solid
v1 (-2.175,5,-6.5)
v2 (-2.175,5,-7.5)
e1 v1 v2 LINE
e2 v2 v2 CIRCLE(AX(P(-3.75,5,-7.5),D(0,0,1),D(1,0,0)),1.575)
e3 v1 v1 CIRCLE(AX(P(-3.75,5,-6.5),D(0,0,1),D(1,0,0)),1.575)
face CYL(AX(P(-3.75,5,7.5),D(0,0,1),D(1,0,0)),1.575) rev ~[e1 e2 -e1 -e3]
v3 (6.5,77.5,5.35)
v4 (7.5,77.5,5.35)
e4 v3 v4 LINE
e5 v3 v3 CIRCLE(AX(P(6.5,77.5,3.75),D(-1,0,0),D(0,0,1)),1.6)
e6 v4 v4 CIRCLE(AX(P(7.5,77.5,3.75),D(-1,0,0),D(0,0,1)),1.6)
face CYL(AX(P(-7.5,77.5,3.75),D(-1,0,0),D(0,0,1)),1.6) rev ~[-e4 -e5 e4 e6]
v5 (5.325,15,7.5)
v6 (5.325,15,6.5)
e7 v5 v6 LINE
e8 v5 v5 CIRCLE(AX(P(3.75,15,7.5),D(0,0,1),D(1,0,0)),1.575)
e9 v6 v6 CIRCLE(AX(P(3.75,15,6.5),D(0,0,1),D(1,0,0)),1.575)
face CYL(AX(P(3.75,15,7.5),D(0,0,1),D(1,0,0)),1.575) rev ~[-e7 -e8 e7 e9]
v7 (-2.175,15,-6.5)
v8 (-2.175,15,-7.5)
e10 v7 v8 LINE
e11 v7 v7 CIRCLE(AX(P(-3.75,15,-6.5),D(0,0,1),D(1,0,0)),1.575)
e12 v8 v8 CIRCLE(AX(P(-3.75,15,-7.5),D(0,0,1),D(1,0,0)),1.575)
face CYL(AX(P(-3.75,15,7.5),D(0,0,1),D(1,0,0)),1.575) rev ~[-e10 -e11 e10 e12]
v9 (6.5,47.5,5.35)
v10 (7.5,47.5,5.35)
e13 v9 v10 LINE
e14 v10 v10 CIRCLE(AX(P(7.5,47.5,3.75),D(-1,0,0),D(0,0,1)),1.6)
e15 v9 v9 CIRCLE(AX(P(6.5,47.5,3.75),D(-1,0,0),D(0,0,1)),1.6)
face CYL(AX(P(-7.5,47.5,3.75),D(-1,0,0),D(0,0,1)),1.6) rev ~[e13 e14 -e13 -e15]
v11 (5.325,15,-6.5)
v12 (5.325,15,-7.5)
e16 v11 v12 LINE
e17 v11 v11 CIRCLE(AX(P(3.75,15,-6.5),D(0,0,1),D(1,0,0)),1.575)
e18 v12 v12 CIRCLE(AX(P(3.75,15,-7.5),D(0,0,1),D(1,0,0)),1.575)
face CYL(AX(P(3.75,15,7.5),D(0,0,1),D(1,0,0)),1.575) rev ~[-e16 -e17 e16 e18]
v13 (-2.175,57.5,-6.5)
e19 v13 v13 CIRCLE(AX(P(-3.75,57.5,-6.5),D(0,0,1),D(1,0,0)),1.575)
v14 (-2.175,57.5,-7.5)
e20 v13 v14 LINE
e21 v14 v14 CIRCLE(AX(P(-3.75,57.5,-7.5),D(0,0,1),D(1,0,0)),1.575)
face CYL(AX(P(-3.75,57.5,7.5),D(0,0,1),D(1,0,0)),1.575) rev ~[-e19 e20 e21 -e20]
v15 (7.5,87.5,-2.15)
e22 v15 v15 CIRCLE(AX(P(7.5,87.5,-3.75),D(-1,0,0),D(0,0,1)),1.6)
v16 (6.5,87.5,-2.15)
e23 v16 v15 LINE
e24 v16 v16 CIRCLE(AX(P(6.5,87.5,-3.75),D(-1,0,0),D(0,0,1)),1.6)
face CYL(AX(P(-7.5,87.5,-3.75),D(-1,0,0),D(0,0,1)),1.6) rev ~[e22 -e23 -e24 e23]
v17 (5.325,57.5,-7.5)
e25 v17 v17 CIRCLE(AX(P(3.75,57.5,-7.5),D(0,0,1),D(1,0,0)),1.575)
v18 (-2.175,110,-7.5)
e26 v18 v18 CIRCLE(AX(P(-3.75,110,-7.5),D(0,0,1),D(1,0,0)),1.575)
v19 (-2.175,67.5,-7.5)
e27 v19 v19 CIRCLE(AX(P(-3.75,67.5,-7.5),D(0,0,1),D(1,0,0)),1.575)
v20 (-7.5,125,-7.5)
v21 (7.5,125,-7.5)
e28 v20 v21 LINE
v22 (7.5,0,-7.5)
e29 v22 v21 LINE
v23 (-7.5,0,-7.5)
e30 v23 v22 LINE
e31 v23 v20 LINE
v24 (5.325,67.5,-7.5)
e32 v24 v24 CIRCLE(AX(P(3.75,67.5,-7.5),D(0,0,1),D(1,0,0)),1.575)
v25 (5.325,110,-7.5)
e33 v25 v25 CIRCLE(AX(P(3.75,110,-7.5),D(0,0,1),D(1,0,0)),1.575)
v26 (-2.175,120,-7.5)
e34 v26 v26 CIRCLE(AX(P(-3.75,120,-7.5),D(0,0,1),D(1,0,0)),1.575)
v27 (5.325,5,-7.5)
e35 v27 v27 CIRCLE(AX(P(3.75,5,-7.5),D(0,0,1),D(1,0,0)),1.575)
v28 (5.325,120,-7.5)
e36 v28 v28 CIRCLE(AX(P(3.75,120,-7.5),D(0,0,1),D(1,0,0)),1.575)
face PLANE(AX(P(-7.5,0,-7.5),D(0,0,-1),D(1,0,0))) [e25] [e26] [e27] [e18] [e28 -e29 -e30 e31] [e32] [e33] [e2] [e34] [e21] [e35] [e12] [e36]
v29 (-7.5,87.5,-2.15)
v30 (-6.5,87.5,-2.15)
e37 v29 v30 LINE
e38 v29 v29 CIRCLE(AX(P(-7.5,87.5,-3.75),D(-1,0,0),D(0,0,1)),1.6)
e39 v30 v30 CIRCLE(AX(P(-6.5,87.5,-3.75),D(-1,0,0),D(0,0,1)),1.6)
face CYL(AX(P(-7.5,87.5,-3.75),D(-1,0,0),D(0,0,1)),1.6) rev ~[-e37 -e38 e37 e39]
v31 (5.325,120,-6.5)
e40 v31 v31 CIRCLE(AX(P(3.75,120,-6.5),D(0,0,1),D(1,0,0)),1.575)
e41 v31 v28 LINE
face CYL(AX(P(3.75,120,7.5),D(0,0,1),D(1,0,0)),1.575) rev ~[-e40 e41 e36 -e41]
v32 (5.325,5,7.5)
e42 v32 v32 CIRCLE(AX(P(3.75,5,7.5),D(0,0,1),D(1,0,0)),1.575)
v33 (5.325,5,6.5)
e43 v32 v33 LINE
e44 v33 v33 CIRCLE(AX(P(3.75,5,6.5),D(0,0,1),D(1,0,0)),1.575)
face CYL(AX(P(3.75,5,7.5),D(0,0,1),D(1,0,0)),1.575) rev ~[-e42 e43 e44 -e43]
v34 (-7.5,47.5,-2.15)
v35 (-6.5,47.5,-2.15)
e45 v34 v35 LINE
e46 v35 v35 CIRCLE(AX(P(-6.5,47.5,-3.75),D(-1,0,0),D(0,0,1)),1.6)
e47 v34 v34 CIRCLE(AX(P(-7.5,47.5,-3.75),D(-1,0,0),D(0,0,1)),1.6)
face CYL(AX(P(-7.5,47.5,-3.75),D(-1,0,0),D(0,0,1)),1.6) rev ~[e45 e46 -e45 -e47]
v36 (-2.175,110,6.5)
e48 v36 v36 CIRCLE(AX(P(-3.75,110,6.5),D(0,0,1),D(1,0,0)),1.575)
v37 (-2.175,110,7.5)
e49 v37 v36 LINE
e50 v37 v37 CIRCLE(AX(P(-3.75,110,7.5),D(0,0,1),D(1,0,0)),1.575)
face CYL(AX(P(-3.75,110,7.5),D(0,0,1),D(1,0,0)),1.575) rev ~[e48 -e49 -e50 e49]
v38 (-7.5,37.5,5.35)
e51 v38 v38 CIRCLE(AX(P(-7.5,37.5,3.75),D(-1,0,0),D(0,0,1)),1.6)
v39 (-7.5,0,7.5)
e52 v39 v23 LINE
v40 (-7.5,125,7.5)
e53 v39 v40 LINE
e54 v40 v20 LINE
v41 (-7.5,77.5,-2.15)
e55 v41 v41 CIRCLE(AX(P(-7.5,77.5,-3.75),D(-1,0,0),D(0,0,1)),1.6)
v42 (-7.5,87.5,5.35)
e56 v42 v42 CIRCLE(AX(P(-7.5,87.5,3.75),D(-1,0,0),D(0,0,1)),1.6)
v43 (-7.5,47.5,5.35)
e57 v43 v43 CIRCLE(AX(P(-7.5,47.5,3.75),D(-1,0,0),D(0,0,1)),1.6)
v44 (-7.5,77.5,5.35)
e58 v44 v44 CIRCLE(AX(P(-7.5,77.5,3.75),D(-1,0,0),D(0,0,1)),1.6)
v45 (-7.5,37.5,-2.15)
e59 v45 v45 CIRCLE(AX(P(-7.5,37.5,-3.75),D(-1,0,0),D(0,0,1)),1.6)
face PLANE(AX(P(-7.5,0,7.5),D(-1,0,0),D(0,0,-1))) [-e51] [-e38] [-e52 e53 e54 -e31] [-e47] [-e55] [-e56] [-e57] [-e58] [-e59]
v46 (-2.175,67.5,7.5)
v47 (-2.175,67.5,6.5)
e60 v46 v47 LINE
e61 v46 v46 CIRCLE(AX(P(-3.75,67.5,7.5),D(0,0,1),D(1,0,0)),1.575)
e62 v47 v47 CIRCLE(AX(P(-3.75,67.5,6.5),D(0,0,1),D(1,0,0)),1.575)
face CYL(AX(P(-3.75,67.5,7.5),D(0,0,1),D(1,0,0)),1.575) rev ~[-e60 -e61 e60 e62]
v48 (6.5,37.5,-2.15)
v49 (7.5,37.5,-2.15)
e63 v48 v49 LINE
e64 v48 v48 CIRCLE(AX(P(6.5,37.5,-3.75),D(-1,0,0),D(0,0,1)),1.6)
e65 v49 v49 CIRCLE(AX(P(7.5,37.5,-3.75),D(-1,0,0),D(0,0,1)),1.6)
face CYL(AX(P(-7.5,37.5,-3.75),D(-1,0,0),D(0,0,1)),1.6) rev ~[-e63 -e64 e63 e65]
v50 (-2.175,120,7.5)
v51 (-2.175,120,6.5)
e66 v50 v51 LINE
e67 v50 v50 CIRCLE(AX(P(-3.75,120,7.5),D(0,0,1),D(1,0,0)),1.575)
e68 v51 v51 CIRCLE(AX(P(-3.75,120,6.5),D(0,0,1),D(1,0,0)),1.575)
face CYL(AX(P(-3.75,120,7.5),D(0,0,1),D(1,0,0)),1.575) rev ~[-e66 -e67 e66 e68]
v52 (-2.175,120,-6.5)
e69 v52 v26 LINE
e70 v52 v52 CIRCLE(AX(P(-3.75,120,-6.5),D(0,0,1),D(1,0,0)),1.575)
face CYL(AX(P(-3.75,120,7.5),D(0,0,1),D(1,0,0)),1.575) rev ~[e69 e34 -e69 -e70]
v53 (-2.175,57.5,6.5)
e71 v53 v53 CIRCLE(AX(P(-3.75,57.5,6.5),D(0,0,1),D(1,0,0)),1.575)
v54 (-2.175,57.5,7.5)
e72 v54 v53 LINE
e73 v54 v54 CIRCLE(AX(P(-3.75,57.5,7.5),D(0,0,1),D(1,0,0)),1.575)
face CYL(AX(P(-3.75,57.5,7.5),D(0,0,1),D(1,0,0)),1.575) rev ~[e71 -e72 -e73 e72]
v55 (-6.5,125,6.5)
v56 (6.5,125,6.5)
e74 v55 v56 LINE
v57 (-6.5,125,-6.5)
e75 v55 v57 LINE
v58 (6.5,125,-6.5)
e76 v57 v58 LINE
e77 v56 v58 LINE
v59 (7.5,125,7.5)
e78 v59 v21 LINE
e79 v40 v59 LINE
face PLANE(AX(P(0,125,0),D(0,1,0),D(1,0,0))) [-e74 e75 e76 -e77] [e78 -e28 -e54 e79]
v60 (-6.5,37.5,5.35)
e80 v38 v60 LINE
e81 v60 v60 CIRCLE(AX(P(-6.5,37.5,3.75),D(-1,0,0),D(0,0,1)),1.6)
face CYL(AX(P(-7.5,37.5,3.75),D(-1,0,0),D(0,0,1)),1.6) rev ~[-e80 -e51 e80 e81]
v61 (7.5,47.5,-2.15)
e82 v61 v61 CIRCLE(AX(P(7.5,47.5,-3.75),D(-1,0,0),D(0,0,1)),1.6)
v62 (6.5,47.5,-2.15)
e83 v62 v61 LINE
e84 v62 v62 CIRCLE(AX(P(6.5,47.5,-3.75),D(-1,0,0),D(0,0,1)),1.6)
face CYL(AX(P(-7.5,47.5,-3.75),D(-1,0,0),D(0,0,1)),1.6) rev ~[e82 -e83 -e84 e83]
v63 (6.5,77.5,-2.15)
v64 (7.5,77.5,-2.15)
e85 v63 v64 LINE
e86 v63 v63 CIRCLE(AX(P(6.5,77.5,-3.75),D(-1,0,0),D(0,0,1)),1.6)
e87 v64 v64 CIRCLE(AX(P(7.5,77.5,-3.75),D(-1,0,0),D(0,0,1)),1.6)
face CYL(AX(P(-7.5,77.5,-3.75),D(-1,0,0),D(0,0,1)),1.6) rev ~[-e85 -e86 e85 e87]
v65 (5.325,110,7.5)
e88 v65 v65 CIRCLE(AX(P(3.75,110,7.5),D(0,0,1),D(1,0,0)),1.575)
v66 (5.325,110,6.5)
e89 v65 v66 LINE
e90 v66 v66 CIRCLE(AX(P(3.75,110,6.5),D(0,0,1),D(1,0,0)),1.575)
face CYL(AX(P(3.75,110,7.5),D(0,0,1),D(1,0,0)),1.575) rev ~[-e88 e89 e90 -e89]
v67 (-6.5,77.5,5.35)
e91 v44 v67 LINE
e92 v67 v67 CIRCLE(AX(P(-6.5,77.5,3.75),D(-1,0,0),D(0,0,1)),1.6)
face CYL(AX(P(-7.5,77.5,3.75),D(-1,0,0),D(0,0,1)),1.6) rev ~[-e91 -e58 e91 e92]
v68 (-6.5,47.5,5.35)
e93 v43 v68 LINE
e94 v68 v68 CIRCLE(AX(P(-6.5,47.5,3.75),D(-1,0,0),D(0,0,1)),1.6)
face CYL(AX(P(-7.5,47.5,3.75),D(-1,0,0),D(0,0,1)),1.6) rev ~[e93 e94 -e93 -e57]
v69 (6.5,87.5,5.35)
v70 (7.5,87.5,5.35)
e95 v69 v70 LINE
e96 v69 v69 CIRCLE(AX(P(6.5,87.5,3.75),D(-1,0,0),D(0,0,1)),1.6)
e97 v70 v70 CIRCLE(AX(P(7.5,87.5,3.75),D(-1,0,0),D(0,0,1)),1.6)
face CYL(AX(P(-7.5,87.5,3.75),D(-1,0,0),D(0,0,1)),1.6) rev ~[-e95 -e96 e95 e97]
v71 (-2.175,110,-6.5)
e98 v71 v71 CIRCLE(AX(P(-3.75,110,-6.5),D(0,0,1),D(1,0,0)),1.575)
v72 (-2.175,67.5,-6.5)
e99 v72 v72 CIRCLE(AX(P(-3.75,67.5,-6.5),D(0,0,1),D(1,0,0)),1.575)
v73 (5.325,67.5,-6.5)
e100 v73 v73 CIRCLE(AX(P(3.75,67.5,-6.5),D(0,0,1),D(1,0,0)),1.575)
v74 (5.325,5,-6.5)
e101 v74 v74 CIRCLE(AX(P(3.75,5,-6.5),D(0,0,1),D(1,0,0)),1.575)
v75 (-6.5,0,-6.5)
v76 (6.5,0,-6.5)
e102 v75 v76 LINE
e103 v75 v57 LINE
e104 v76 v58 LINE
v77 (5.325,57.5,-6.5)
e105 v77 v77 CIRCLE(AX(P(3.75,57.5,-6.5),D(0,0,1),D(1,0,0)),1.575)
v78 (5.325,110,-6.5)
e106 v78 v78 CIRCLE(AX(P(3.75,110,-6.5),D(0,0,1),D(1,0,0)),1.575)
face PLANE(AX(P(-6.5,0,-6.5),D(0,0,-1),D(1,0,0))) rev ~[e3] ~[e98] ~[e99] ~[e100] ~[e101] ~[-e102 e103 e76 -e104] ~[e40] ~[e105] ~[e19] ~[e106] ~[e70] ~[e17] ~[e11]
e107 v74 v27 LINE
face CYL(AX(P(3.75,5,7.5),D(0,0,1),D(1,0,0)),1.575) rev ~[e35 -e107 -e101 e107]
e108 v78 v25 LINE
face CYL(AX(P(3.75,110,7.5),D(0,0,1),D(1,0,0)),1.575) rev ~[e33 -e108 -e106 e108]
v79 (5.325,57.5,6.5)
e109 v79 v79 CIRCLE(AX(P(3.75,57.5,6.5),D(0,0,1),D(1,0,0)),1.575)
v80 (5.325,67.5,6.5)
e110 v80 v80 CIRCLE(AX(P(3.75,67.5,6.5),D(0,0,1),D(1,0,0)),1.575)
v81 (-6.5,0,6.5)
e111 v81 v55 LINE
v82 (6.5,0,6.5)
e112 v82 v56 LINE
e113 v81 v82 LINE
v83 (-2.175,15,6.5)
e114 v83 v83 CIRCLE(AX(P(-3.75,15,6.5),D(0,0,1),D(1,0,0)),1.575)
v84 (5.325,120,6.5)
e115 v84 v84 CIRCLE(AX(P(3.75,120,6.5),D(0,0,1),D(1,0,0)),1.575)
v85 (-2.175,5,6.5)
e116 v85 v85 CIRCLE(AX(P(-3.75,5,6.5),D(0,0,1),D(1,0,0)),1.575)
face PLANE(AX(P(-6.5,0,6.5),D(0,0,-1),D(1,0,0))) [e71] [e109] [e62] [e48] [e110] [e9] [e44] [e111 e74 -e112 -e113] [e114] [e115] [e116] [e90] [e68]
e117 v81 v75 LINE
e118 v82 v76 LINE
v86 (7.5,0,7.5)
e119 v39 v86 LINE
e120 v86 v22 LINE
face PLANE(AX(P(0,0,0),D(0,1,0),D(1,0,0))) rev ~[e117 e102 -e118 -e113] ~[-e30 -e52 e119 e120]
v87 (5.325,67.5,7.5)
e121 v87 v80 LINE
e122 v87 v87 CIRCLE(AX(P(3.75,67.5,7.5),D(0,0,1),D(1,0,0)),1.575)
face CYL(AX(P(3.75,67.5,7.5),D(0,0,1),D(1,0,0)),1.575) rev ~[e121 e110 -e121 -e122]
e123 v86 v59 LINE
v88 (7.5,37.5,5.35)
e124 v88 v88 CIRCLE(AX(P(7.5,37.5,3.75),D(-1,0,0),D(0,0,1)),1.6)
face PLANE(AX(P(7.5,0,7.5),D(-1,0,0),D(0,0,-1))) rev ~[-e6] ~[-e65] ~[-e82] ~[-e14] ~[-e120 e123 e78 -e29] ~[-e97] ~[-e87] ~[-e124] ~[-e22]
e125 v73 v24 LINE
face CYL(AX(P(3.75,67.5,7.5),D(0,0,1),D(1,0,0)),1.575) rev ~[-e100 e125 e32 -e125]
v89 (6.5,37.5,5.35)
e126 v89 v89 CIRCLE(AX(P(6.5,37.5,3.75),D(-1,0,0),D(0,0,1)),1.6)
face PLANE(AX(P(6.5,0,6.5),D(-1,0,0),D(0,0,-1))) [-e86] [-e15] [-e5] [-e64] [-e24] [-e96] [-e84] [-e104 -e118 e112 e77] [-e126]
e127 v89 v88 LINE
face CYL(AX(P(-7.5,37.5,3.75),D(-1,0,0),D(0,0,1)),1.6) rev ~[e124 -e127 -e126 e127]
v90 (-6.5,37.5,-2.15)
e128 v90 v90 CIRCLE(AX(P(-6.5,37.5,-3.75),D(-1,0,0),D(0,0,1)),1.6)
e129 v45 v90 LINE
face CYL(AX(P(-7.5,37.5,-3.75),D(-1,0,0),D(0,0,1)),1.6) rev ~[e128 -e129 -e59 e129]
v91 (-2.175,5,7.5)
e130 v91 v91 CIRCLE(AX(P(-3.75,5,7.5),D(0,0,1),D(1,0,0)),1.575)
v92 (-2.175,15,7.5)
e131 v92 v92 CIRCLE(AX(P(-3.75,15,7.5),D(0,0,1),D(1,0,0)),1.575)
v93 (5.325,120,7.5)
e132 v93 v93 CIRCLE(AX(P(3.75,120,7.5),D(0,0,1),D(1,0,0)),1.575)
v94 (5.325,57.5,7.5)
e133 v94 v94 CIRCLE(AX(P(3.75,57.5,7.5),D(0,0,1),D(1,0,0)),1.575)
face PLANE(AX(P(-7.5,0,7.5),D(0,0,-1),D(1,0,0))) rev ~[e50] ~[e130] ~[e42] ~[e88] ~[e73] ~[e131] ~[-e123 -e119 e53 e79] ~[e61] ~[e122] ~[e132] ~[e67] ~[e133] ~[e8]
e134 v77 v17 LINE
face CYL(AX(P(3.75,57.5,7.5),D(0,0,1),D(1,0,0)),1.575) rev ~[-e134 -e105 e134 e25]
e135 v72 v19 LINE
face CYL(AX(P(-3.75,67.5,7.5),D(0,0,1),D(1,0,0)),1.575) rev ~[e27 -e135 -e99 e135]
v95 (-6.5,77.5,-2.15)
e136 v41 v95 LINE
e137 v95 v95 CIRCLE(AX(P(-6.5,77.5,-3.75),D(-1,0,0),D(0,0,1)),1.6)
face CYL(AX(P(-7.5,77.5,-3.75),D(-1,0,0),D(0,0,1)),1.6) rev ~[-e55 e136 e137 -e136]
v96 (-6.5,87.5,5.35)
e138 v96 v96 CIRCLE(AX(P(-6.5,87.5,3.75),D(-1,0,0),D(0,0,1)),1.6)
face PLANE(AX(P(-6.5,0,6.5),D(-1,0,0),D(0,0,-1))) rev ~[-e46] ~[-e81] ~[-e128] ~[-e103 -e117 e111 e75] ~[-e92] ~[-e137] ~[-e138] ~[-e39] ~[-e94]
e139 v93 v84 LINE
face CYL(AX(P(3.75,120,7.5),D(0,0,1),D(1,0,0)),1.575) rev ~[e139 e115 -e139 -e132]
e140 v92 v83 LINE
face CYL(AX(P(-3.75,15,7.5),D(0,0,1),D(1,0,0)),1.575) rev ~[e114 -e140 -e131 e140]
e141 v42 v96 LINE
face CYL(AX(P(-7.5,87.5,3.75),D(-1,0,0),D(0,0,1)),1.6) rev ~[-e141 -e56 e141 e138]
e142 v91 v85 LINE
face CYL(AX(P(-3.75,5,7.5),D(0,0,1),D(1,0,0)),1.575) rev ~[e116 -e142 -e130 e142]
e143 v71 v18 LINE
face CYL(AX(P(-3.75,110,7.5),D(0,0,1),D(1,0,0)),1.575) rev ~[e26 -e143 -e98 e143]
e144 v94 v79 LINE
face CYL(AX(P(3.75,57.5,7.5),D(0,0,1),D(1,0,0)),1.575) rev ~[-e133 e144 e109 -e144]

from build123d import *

# Parameters (mm, degrees)
SKETCH_1_W          = 15
SKETCH_1_H          = 15
SKETCH_1_W_2        = 13
SKETCH_1_H_2        = 13
EXTRUDE_1_DEPTH     = 125
CUT_EXTRUDE_1_REACH = 128.12
SKETCH_2_R          = 1.575
CUT_EXTRUDE_2_REACH = 128.12
SKETCH_3_R          = 1.6


with BuildPart() as part:
    # 草图1 → 凸台-拉伸1 (new body)
    with BuildSketch(Plane(origin=(0, 0, 0), x_dir=(1, 0, 0), z_dir=(0, 1, 0))):
        Rectangle(SKETCH_1_W, SKETCH_1_H)
        Rectangle(SKETCH_1_W_2, SKETCH_1_H_2, mode=Mode.SUBTRACT)
    extrude(amount=EXTRUDE_1_DEPTH)

    # 切除-拉伸1: up to this face of the body (flat: up to its plane)
    cut_extrude_1_end = Plane(part.part.faces().sort_by_distance((0, 62.5, -7.5))[0])
    # 草图2 → 切除-拉伸1 (cut, up to the picked face)
    with BuildSketch(Plane.XY.offset(7.5), mode=Mode.PRIVATE) as cut_extrude_1_sk1:
        with Locations((-3.75, 67.5)):
            Circle(SKETCH_2_R)
    cut_extrude_1_tool1 = split(extrude(cut_extrude_1_sk1.sketch, amount=-CUT_EXTRUDE_1_REACH, mode=Mode.PRIVATE), bisect_by=cut_extrude_1_end, keep=Keep.BOTH, mode=Mode.PRIVATE)
    # 草图2 → 切除-拉伸1 (cut, up to the picked face)
    with BuildSketch(Plane.XY.offset(7.5), mode=Mode.PRIVATE) as cut_extrude_1_sk2:
        with Locations((3.75, 67.5)):
            Circle(SKETCH_2_R)
    cut_extrude_1_tool2 = split(extrude(cut_extrude_1_sk2.sketch, amount=-CUT_EXTRUDE_1_REACH, mode=Mode.PRIVATE), bisect_by=cut_extrude_1_end, keep=Keep.BOTH, mode=Mode.PRIVATE)
    # 草图2 → 切除-拉伸1 (cut, up to the picked face)
    with BuildSketch(Plane.XY.offset(7.5), mode=Mode.PRIVATE) as cut_extrude_1_sk3:
        with Locations((-3.75, 57.5)):
            Circle(SKETCH_2_R)
    cut_extrude_1_tool3 = split(extrude(cut_extrude_1_sk3.sketch, amount=-CUT_EXTRUDE_1_REACH, mode=Mode.PRIVATE), bisect_by=cut_extrude_1_end, keep=Keep.BOTH, mode=Mode.PRIVATE)
    # 草图2 → 切除-拉伸1 (cut, up to the picked face)
    with BuildSketch(Plane.XY.offset(7.5), mode=Mode.PRIVATE) as cut_extrude_1_sk4:
        with Locations((3.75, 57.5)):
            Circle(SKETCH_2_R)
    cut_extrude_1_tool4 = split(extrude(cut_extrude_1_sk4.sketch, amount=-CUT_EXTRUDE_1_REACH, mode=Mode.PRIVATE), bisect_by=cut_extrude_1_end, keep=Keep.BOTH, mode=Mode.PRIVATE)
    # 草图2 → 切除-拉伸1 (cut, up to the picked face)
    with BuildSketch(Plane.XY.offset(7.5), mode=Mode.PRIVATE) as cut_extrude_1_sk5:
        with Locations((3.75, 120)):
            Circle(SKETCH_2_R)
    cut_extrude_1_tool5 = split(extrude(cut_extrude_1_sk5.sketch, amount=-CUT_EXTRUDE_1_REACH, mode=Mode.PRIVATE), bisect_by=cut_extrude_1_end, keep=Keep.BOTH, mode=Mode.PRIVATE)
    # 草图2 → 切除-拉伸1 (cut, up to the picked face)
    with BuildSketch(Plane.XY.offset(7.5), mode=Mode.PRIVATE) as cut_extrude_1_sk6:
        with Locations((-3.75, 120)):
            Circle(SKETCH_2_R)
    cut_extrude_1_tool6 = split(extrude(cut_extrude_1_sk6.sketch, amount=-CUT_EXTRUDE_1_REACH, mode=Mode.PRIVATE), bisect_by=cut_extrude_1_end, keep=Keep.BOTH, mode=Mode.PRIVATE)
    # 草图2 → 切除-拉伸1 (cut, up to the picked face)
    with BuildSketch(Plane.XY.offset(7.5), mode=Mode.PRIVATE) as cut_extrude_1_sk7:
        with Locations((-3.75, 110)):
            Circle(SKETCH_2_R)
    cut_extrude_1_tool7 = split(extrude(cut_extrude_1_sk7.sketch, amount=-CUT_EXTRUDE_1_REACH, mode=Mode.PRIVATE), bisect_by=cut_extrude_1_end, keep=Keep.BOTH, mode=Mode.PRIVATE)
    # 草图2 → 切除-拉伸1 (cut, up to the picked face)
    with BuildSketch(Plane.XY.offset(7.5), mode=Mode.PRIVATE) as cut_extrude_1_sk8:
        with Locations((3.75, 110)):
            Circle(SKETCH_2_R)
    cut_extrude_1_tool8 = split(extrude(cut_extrude_1_sk8.sketch, amount=-CUT_EXTRUDE_1_REACH, mode=Mode.PRIVATE), bisect_by=cut_extrude_1_end, keep=Keep.BOTH, mode=Mode.PRIVATE)
    # 草图2 → 切除-拉伸1 (cut, up to the picked face)
    with BuildSketch(Plane.XY.offset(7.5), mode=Mode.PRIVATE) as cut_extrude_1_sk9:
        with Locations((3.75, 15)):
            Circle(SKETCH_2_R)
    cut_extrude_1_tool9 = split(extrude(cut_extrude_1_sk9.sketch, amount=-CUT_EXTRUDE_1_REACH, mode=Mode.PRIVATE), bisect_by=cut_extrude_1_end, keep=Keep.BOTH, mode=Mode.PRIVATE)
    # 草图2 → 切除-拉伸1 (cut, up to the picked face)
    with BuildSketch(Plane.XY.offset(7.5), mode=Mode.PRIVATE) as cut_extrude_1_sk10:
        with Locations((-3.75, 15)):
            Circle(SKETCH_2_R)
    cut_extrude_1_tool10 = split(extrude(cut_extrude_1_sk10.sketch, amount=-CUT_EXTRUDE_1_REACH, mode=Mode.PRIVATE), bisect_by=cut_extrude_1_end, keep=Keep.BOTH, mode=Mode.PRIVATE)
    # 草图2 → 切除-拉伸1 (cut, up to the picked face)
    with BuildSketch(Plane.XY.offset(7.5), mode=Mode.PRIVATE) as cut_extrude_1_sk11:
        with Locations((-3.75, 5)):
            Circle(SKETCH_2_R)
    cut_extrude_1_tool11 = split(extrude(cut_extrude_1_sk11.sketch, amount=-CUT_EXTRUDE_1_REACH, mode=Mode.PRIVATE), bisect_by=cut_extrude_1_end, keep=Keep.BOTH, mode=Mode.PRIVATE)
    # 草图2 → 切除-拉伸1 (cut, up to the picked face)
    with BuildSketch(Plane.XY.offset(7.5), mode=Mode.PRIVATE) as cut_extrude_1_sk12:
        with Locations((3.75, 5)):
            Circle(SKETCH_2_R)
    cut_extrude_1_tool12 = split(extrude(cut_extrude_1_sk12.sketch, amount=-CUT_EXTRUDE_1_REACH, mode=Mode.PRIVATE), bisect_by=cut_extrude_1_end, keep=Keep.BOTH, mode=Mode.PRIVATE)
    add(cut_extrude_1_tool1.solids().sort_by(Axis((-3.75, 67.5, 7.5), (0, 0, -1)))[0], mode=Mode.SUBTRACT)
    add(cut_extrude_1_tool2.solids().sort_by(Axis((3.75, 67.5, 7.5), (0, 0, -1)))[0], mode=Mode.SUBTRACT)
    add(cut_extrude_1_tool3.solids().sort_by(Axis((-3.75, 57.5, 7.5), (0, 0, -1)))[0], mode=Mode.SUBTRACT)
    add(cut_extrude_1_tool4.solids().sort_by(Axis((3.75, 57.5, 7.5), (0, 0, -1)))[0], mode=Mode.SUBTRACT)
    add(cut_extrude_1_tool5.solids().sort_by(Axis((3.75, 120, 7.5), (0, 0, -1)))[0], mode=Mode.SUBTRACT)
    add(cut_extrude_1_tool6.solids().sort_by(Axis((-3.75, 120, 7.5), (0, 0, -1)))[0], mode=Mode.SUBTRACT)
    add(cut_extrude_1_tool7.solids().sort_by(Axis((-3.75, 110, 7.5), (0, 0, -1)))[0], mode=Mode.SUBTRACT)
    add(cut_extrude_1_tool8.solids().sort_by(Axis((3.75, 110, 7.5), (0, 0, -1)))[0], mode=Mode.SUBTRACT)
    add(cut_extrude_1_tool9.solids().sort_by(Axis((3.75, 15, 7.5), (0, 0, -1)))[0], mode=Mode.SUBTRACT)
    add(cut_extrude_1_tool10.solids().sort_by(Axis((-3.75, 15, 7.5), (0, 0, -1)))[0], mode=Mode.SUBTRACT)
    add(cut_extrude_1_tool11.solids().sort_by(Axis((-3.75, 5, 7.5), (0, 0, -1)))[0], mode=Mode.SUBTRACT)
    add(cut_extrude_1_tool12.solids().sort_by(Axis((3.75, 5, 7.5), (0, 0, -1)))[0], mode=Mode.SUBTRACT)

    # 切除-拉伸2: up to this face of the body (flat: up to its plane)
    cut_extrude_2_end = Plane(part.part.faces().sort_by_distance((7.5, 62.5, 0))[0])
    # 草图3 → 切除-拉伸2 (cut, up to the picked face)
    with BuildSketch(Plane.ZY.offset(7.5), mode=Mode.PRIVATE) as cut_extrude_2_sk1:
        with Locations((-3.75, 87.5)):
            Circle(SKETCH_3_R)
    cut_extrude_2_tool1 = split(extrude(cut_extrude_2_sk1.sketch, amount=-CUT_EXTRUDE_2_REACH, mode=Mode.PRIVATE), bisect_by=cut_extrude_2_end, keep=Keep.BOTH, mode=Mode.PRIVATE)
    # 草图3 → 切除-拉伸2 (cut, up to the picked face)
    with BuildSketch(Plane.ZY.offset(7.5), mode=Mode.PRIVATE) as cut_extrude_2_sk2:
        with Locations((3.75, 87.5)):
            Circle(SKETCH_3_R)
    cut_extrude_2_tool2 = split(extrude(cut_extrude_2_sk2.sketch, amount=-CUT_EXTRUDE_2_REACH, mode=Mode.PRIVATE), bisect_by=cut_extrude_2_end, keep=Keep.BOTH, mode=Mode.PRIVATE)
    # 草图3 → 切除-拉伸2 (cut, up to the picked face)
    with BuildSketch(Plane.ZY.offset(7.5), mode=Mode.PRIVATE) as cut_extrude_2_sk3:
        with Locations((-3.75, 77.5)):
            Circle(SKETCH_3_R)
    cut_extrude_2_tool3 = split(extrude(cut_extrude_2_sk3.sketch, amount=-CUT_EXTRUDE_2_REACH, mode=Mode.PRIVATE), bisect_by=cut_extrude_2_end, keep=Keep.BOTH, mode=Mode.PRIVATE)
    # 草图3 → 切除-拉伸2 (cut, up to the picked face)
    with BuildSketch(Plane.ZY.offset(7.5), mode=Mode.PRIVATE) as cut_extrude_2_sk4:
        with Locations((3.75, 77.5)):
            Circle(SKETCH_3_R)
    cut_extrude_2_tool4 = split(extrude(cut_extrude_2_sk4.sketch, amount=-CUT_EXTRUDE_2_REACH, mode=Mode.PRIVATE), bisect_by=cut_extrude_2_end, keep=Keep.BOTH, mode=Mode.PRIVATE)
    # 草图3 → 切除-拉伸2 (cut, up to the picked face)
    with BuildSketch(Plane.ZY.offset(7.5), mode=Mode.PRIVATE) as cut_extrude_2_sk5:
        with Locations((3.75, 47.5)):
            Circle(SKETCH_3_R)
    cut_extrude_2_tool5 = split(extrude(cut_extrude_2_sk5.sketch, amount=-CUT_EXTRUDE_2_REACH, mode=Mode.PRIVATE), bisect_by=cut_extrude_2_end, keep=Keep.BOTH, mode=Mode.PRIVATE)
    # 草图3 → 切除-拉伸2 (cut, up to the picked face)
    with BuildSketch(Plane.ZY.offset(7.5), mode=Mode.PRIVATE) as cut_extrude_2_sk6:
        with Locations((-3.75, 47.5)):
            Circle(SKETCH_3_R)
    cut_extrude_2_tool6 = split(extrude(cut_extrude_2_sk6.sketch, amount=-CUT_EXTRUDE_2_REACH, mode=Mode.PRIVATE), bisect_by=cut_extrude_2_end, keep=Keep.BOTH, mode=Mode.PRIVATE)
    # 草图3 → 切除-拉伸2 (cut, up to the picked face)
    with BuildSketch(Plane.ZY.offset(7.5), mode=Mode.PRIVATE) as cut_extrude_2_sk7:
        with Locations((3.75, 37.5)):
            Circle(SKETCH_3_R)
    cut_extrude_2_tool7 = split(extrude(cut_extrude_2_sk7.sketch, amount=-CUT_EXTRUDE_2_REACH, mode=Mode.PRIVATE), bisect_by=cut_extrude_2_end, keep=Keep.BOTH, mode=Mode.PRIVATE)
    # 草图3 → 切除-拉伸2 (cut, up to the picked face)
    with BuildSketch(Plane.ZY.offset(7.5), mode=Mode.PRIVATE) as cut_extrude_2_sk8:
        with Locations((-3.75, 37.5)):
            Circle(SKETCH_3_R)
    cut_extrude_2_tool8 = split(extrude(cut_extrude_2_sk8.sketch, amount=-CUT_EXTRUDE_2_REACH, mode=Mode.PRIVATE), bisect_by=cut_extrude_2_end, keep=Keep.BOTH, mode=Mode.PRIVATE)
    add(cut_extrude_2_tool1.solids().sort_by(Axis((-7.5, 87.5, -3.75), (1, 0, 0)))[0], mode=Mode.SUBTRACT)
    add(cut_extrude_2_tool2.solids().sort_by(Axis((-7.5, 87.5, 3.75), (1, 0, 0)))[0], mode=Mode.SUBTRACT)
    add(cut_extrude_2_tool3.solids().sort_by(Axis((-7.5, 77.5, -3.75), (1, 0, 0)))[0], mode=Mode.SUBTRACT)
    add(cut_extrude_2_tool4.solids().sort_by(Axis((-7.5, 77.5, 3.75), (1, 0, 0)))[0], mode=Mode.SUBTRACT)
    add(cut_extrude_2_tool5.solids().sort_by(Axis((-7.5, 47.5, 3.75), (1, 0, 0)))[0], mode=Mode.SUBTRACT)
    add(cut_extrude_2_tool6.solids().sort_by(Axis((-7.5, 47.5, -3.75), (1, 0, 0)))[0], mode=Mode.SUBTRACT)
    add(cut_extrude_2_tool7.solids().sort_by(Axis((-7.5, 37.5, 3.75), (1, 0, 0)))[0], mode=Mode.SUBTRACT)
    add(cut_extrude_2_tool8.solids().sort_by(Axis((-7.5, 37.5, -3.75), (1, 0, 0)))[0], mode=Mode.SUBTRACT)


solid = part.part
